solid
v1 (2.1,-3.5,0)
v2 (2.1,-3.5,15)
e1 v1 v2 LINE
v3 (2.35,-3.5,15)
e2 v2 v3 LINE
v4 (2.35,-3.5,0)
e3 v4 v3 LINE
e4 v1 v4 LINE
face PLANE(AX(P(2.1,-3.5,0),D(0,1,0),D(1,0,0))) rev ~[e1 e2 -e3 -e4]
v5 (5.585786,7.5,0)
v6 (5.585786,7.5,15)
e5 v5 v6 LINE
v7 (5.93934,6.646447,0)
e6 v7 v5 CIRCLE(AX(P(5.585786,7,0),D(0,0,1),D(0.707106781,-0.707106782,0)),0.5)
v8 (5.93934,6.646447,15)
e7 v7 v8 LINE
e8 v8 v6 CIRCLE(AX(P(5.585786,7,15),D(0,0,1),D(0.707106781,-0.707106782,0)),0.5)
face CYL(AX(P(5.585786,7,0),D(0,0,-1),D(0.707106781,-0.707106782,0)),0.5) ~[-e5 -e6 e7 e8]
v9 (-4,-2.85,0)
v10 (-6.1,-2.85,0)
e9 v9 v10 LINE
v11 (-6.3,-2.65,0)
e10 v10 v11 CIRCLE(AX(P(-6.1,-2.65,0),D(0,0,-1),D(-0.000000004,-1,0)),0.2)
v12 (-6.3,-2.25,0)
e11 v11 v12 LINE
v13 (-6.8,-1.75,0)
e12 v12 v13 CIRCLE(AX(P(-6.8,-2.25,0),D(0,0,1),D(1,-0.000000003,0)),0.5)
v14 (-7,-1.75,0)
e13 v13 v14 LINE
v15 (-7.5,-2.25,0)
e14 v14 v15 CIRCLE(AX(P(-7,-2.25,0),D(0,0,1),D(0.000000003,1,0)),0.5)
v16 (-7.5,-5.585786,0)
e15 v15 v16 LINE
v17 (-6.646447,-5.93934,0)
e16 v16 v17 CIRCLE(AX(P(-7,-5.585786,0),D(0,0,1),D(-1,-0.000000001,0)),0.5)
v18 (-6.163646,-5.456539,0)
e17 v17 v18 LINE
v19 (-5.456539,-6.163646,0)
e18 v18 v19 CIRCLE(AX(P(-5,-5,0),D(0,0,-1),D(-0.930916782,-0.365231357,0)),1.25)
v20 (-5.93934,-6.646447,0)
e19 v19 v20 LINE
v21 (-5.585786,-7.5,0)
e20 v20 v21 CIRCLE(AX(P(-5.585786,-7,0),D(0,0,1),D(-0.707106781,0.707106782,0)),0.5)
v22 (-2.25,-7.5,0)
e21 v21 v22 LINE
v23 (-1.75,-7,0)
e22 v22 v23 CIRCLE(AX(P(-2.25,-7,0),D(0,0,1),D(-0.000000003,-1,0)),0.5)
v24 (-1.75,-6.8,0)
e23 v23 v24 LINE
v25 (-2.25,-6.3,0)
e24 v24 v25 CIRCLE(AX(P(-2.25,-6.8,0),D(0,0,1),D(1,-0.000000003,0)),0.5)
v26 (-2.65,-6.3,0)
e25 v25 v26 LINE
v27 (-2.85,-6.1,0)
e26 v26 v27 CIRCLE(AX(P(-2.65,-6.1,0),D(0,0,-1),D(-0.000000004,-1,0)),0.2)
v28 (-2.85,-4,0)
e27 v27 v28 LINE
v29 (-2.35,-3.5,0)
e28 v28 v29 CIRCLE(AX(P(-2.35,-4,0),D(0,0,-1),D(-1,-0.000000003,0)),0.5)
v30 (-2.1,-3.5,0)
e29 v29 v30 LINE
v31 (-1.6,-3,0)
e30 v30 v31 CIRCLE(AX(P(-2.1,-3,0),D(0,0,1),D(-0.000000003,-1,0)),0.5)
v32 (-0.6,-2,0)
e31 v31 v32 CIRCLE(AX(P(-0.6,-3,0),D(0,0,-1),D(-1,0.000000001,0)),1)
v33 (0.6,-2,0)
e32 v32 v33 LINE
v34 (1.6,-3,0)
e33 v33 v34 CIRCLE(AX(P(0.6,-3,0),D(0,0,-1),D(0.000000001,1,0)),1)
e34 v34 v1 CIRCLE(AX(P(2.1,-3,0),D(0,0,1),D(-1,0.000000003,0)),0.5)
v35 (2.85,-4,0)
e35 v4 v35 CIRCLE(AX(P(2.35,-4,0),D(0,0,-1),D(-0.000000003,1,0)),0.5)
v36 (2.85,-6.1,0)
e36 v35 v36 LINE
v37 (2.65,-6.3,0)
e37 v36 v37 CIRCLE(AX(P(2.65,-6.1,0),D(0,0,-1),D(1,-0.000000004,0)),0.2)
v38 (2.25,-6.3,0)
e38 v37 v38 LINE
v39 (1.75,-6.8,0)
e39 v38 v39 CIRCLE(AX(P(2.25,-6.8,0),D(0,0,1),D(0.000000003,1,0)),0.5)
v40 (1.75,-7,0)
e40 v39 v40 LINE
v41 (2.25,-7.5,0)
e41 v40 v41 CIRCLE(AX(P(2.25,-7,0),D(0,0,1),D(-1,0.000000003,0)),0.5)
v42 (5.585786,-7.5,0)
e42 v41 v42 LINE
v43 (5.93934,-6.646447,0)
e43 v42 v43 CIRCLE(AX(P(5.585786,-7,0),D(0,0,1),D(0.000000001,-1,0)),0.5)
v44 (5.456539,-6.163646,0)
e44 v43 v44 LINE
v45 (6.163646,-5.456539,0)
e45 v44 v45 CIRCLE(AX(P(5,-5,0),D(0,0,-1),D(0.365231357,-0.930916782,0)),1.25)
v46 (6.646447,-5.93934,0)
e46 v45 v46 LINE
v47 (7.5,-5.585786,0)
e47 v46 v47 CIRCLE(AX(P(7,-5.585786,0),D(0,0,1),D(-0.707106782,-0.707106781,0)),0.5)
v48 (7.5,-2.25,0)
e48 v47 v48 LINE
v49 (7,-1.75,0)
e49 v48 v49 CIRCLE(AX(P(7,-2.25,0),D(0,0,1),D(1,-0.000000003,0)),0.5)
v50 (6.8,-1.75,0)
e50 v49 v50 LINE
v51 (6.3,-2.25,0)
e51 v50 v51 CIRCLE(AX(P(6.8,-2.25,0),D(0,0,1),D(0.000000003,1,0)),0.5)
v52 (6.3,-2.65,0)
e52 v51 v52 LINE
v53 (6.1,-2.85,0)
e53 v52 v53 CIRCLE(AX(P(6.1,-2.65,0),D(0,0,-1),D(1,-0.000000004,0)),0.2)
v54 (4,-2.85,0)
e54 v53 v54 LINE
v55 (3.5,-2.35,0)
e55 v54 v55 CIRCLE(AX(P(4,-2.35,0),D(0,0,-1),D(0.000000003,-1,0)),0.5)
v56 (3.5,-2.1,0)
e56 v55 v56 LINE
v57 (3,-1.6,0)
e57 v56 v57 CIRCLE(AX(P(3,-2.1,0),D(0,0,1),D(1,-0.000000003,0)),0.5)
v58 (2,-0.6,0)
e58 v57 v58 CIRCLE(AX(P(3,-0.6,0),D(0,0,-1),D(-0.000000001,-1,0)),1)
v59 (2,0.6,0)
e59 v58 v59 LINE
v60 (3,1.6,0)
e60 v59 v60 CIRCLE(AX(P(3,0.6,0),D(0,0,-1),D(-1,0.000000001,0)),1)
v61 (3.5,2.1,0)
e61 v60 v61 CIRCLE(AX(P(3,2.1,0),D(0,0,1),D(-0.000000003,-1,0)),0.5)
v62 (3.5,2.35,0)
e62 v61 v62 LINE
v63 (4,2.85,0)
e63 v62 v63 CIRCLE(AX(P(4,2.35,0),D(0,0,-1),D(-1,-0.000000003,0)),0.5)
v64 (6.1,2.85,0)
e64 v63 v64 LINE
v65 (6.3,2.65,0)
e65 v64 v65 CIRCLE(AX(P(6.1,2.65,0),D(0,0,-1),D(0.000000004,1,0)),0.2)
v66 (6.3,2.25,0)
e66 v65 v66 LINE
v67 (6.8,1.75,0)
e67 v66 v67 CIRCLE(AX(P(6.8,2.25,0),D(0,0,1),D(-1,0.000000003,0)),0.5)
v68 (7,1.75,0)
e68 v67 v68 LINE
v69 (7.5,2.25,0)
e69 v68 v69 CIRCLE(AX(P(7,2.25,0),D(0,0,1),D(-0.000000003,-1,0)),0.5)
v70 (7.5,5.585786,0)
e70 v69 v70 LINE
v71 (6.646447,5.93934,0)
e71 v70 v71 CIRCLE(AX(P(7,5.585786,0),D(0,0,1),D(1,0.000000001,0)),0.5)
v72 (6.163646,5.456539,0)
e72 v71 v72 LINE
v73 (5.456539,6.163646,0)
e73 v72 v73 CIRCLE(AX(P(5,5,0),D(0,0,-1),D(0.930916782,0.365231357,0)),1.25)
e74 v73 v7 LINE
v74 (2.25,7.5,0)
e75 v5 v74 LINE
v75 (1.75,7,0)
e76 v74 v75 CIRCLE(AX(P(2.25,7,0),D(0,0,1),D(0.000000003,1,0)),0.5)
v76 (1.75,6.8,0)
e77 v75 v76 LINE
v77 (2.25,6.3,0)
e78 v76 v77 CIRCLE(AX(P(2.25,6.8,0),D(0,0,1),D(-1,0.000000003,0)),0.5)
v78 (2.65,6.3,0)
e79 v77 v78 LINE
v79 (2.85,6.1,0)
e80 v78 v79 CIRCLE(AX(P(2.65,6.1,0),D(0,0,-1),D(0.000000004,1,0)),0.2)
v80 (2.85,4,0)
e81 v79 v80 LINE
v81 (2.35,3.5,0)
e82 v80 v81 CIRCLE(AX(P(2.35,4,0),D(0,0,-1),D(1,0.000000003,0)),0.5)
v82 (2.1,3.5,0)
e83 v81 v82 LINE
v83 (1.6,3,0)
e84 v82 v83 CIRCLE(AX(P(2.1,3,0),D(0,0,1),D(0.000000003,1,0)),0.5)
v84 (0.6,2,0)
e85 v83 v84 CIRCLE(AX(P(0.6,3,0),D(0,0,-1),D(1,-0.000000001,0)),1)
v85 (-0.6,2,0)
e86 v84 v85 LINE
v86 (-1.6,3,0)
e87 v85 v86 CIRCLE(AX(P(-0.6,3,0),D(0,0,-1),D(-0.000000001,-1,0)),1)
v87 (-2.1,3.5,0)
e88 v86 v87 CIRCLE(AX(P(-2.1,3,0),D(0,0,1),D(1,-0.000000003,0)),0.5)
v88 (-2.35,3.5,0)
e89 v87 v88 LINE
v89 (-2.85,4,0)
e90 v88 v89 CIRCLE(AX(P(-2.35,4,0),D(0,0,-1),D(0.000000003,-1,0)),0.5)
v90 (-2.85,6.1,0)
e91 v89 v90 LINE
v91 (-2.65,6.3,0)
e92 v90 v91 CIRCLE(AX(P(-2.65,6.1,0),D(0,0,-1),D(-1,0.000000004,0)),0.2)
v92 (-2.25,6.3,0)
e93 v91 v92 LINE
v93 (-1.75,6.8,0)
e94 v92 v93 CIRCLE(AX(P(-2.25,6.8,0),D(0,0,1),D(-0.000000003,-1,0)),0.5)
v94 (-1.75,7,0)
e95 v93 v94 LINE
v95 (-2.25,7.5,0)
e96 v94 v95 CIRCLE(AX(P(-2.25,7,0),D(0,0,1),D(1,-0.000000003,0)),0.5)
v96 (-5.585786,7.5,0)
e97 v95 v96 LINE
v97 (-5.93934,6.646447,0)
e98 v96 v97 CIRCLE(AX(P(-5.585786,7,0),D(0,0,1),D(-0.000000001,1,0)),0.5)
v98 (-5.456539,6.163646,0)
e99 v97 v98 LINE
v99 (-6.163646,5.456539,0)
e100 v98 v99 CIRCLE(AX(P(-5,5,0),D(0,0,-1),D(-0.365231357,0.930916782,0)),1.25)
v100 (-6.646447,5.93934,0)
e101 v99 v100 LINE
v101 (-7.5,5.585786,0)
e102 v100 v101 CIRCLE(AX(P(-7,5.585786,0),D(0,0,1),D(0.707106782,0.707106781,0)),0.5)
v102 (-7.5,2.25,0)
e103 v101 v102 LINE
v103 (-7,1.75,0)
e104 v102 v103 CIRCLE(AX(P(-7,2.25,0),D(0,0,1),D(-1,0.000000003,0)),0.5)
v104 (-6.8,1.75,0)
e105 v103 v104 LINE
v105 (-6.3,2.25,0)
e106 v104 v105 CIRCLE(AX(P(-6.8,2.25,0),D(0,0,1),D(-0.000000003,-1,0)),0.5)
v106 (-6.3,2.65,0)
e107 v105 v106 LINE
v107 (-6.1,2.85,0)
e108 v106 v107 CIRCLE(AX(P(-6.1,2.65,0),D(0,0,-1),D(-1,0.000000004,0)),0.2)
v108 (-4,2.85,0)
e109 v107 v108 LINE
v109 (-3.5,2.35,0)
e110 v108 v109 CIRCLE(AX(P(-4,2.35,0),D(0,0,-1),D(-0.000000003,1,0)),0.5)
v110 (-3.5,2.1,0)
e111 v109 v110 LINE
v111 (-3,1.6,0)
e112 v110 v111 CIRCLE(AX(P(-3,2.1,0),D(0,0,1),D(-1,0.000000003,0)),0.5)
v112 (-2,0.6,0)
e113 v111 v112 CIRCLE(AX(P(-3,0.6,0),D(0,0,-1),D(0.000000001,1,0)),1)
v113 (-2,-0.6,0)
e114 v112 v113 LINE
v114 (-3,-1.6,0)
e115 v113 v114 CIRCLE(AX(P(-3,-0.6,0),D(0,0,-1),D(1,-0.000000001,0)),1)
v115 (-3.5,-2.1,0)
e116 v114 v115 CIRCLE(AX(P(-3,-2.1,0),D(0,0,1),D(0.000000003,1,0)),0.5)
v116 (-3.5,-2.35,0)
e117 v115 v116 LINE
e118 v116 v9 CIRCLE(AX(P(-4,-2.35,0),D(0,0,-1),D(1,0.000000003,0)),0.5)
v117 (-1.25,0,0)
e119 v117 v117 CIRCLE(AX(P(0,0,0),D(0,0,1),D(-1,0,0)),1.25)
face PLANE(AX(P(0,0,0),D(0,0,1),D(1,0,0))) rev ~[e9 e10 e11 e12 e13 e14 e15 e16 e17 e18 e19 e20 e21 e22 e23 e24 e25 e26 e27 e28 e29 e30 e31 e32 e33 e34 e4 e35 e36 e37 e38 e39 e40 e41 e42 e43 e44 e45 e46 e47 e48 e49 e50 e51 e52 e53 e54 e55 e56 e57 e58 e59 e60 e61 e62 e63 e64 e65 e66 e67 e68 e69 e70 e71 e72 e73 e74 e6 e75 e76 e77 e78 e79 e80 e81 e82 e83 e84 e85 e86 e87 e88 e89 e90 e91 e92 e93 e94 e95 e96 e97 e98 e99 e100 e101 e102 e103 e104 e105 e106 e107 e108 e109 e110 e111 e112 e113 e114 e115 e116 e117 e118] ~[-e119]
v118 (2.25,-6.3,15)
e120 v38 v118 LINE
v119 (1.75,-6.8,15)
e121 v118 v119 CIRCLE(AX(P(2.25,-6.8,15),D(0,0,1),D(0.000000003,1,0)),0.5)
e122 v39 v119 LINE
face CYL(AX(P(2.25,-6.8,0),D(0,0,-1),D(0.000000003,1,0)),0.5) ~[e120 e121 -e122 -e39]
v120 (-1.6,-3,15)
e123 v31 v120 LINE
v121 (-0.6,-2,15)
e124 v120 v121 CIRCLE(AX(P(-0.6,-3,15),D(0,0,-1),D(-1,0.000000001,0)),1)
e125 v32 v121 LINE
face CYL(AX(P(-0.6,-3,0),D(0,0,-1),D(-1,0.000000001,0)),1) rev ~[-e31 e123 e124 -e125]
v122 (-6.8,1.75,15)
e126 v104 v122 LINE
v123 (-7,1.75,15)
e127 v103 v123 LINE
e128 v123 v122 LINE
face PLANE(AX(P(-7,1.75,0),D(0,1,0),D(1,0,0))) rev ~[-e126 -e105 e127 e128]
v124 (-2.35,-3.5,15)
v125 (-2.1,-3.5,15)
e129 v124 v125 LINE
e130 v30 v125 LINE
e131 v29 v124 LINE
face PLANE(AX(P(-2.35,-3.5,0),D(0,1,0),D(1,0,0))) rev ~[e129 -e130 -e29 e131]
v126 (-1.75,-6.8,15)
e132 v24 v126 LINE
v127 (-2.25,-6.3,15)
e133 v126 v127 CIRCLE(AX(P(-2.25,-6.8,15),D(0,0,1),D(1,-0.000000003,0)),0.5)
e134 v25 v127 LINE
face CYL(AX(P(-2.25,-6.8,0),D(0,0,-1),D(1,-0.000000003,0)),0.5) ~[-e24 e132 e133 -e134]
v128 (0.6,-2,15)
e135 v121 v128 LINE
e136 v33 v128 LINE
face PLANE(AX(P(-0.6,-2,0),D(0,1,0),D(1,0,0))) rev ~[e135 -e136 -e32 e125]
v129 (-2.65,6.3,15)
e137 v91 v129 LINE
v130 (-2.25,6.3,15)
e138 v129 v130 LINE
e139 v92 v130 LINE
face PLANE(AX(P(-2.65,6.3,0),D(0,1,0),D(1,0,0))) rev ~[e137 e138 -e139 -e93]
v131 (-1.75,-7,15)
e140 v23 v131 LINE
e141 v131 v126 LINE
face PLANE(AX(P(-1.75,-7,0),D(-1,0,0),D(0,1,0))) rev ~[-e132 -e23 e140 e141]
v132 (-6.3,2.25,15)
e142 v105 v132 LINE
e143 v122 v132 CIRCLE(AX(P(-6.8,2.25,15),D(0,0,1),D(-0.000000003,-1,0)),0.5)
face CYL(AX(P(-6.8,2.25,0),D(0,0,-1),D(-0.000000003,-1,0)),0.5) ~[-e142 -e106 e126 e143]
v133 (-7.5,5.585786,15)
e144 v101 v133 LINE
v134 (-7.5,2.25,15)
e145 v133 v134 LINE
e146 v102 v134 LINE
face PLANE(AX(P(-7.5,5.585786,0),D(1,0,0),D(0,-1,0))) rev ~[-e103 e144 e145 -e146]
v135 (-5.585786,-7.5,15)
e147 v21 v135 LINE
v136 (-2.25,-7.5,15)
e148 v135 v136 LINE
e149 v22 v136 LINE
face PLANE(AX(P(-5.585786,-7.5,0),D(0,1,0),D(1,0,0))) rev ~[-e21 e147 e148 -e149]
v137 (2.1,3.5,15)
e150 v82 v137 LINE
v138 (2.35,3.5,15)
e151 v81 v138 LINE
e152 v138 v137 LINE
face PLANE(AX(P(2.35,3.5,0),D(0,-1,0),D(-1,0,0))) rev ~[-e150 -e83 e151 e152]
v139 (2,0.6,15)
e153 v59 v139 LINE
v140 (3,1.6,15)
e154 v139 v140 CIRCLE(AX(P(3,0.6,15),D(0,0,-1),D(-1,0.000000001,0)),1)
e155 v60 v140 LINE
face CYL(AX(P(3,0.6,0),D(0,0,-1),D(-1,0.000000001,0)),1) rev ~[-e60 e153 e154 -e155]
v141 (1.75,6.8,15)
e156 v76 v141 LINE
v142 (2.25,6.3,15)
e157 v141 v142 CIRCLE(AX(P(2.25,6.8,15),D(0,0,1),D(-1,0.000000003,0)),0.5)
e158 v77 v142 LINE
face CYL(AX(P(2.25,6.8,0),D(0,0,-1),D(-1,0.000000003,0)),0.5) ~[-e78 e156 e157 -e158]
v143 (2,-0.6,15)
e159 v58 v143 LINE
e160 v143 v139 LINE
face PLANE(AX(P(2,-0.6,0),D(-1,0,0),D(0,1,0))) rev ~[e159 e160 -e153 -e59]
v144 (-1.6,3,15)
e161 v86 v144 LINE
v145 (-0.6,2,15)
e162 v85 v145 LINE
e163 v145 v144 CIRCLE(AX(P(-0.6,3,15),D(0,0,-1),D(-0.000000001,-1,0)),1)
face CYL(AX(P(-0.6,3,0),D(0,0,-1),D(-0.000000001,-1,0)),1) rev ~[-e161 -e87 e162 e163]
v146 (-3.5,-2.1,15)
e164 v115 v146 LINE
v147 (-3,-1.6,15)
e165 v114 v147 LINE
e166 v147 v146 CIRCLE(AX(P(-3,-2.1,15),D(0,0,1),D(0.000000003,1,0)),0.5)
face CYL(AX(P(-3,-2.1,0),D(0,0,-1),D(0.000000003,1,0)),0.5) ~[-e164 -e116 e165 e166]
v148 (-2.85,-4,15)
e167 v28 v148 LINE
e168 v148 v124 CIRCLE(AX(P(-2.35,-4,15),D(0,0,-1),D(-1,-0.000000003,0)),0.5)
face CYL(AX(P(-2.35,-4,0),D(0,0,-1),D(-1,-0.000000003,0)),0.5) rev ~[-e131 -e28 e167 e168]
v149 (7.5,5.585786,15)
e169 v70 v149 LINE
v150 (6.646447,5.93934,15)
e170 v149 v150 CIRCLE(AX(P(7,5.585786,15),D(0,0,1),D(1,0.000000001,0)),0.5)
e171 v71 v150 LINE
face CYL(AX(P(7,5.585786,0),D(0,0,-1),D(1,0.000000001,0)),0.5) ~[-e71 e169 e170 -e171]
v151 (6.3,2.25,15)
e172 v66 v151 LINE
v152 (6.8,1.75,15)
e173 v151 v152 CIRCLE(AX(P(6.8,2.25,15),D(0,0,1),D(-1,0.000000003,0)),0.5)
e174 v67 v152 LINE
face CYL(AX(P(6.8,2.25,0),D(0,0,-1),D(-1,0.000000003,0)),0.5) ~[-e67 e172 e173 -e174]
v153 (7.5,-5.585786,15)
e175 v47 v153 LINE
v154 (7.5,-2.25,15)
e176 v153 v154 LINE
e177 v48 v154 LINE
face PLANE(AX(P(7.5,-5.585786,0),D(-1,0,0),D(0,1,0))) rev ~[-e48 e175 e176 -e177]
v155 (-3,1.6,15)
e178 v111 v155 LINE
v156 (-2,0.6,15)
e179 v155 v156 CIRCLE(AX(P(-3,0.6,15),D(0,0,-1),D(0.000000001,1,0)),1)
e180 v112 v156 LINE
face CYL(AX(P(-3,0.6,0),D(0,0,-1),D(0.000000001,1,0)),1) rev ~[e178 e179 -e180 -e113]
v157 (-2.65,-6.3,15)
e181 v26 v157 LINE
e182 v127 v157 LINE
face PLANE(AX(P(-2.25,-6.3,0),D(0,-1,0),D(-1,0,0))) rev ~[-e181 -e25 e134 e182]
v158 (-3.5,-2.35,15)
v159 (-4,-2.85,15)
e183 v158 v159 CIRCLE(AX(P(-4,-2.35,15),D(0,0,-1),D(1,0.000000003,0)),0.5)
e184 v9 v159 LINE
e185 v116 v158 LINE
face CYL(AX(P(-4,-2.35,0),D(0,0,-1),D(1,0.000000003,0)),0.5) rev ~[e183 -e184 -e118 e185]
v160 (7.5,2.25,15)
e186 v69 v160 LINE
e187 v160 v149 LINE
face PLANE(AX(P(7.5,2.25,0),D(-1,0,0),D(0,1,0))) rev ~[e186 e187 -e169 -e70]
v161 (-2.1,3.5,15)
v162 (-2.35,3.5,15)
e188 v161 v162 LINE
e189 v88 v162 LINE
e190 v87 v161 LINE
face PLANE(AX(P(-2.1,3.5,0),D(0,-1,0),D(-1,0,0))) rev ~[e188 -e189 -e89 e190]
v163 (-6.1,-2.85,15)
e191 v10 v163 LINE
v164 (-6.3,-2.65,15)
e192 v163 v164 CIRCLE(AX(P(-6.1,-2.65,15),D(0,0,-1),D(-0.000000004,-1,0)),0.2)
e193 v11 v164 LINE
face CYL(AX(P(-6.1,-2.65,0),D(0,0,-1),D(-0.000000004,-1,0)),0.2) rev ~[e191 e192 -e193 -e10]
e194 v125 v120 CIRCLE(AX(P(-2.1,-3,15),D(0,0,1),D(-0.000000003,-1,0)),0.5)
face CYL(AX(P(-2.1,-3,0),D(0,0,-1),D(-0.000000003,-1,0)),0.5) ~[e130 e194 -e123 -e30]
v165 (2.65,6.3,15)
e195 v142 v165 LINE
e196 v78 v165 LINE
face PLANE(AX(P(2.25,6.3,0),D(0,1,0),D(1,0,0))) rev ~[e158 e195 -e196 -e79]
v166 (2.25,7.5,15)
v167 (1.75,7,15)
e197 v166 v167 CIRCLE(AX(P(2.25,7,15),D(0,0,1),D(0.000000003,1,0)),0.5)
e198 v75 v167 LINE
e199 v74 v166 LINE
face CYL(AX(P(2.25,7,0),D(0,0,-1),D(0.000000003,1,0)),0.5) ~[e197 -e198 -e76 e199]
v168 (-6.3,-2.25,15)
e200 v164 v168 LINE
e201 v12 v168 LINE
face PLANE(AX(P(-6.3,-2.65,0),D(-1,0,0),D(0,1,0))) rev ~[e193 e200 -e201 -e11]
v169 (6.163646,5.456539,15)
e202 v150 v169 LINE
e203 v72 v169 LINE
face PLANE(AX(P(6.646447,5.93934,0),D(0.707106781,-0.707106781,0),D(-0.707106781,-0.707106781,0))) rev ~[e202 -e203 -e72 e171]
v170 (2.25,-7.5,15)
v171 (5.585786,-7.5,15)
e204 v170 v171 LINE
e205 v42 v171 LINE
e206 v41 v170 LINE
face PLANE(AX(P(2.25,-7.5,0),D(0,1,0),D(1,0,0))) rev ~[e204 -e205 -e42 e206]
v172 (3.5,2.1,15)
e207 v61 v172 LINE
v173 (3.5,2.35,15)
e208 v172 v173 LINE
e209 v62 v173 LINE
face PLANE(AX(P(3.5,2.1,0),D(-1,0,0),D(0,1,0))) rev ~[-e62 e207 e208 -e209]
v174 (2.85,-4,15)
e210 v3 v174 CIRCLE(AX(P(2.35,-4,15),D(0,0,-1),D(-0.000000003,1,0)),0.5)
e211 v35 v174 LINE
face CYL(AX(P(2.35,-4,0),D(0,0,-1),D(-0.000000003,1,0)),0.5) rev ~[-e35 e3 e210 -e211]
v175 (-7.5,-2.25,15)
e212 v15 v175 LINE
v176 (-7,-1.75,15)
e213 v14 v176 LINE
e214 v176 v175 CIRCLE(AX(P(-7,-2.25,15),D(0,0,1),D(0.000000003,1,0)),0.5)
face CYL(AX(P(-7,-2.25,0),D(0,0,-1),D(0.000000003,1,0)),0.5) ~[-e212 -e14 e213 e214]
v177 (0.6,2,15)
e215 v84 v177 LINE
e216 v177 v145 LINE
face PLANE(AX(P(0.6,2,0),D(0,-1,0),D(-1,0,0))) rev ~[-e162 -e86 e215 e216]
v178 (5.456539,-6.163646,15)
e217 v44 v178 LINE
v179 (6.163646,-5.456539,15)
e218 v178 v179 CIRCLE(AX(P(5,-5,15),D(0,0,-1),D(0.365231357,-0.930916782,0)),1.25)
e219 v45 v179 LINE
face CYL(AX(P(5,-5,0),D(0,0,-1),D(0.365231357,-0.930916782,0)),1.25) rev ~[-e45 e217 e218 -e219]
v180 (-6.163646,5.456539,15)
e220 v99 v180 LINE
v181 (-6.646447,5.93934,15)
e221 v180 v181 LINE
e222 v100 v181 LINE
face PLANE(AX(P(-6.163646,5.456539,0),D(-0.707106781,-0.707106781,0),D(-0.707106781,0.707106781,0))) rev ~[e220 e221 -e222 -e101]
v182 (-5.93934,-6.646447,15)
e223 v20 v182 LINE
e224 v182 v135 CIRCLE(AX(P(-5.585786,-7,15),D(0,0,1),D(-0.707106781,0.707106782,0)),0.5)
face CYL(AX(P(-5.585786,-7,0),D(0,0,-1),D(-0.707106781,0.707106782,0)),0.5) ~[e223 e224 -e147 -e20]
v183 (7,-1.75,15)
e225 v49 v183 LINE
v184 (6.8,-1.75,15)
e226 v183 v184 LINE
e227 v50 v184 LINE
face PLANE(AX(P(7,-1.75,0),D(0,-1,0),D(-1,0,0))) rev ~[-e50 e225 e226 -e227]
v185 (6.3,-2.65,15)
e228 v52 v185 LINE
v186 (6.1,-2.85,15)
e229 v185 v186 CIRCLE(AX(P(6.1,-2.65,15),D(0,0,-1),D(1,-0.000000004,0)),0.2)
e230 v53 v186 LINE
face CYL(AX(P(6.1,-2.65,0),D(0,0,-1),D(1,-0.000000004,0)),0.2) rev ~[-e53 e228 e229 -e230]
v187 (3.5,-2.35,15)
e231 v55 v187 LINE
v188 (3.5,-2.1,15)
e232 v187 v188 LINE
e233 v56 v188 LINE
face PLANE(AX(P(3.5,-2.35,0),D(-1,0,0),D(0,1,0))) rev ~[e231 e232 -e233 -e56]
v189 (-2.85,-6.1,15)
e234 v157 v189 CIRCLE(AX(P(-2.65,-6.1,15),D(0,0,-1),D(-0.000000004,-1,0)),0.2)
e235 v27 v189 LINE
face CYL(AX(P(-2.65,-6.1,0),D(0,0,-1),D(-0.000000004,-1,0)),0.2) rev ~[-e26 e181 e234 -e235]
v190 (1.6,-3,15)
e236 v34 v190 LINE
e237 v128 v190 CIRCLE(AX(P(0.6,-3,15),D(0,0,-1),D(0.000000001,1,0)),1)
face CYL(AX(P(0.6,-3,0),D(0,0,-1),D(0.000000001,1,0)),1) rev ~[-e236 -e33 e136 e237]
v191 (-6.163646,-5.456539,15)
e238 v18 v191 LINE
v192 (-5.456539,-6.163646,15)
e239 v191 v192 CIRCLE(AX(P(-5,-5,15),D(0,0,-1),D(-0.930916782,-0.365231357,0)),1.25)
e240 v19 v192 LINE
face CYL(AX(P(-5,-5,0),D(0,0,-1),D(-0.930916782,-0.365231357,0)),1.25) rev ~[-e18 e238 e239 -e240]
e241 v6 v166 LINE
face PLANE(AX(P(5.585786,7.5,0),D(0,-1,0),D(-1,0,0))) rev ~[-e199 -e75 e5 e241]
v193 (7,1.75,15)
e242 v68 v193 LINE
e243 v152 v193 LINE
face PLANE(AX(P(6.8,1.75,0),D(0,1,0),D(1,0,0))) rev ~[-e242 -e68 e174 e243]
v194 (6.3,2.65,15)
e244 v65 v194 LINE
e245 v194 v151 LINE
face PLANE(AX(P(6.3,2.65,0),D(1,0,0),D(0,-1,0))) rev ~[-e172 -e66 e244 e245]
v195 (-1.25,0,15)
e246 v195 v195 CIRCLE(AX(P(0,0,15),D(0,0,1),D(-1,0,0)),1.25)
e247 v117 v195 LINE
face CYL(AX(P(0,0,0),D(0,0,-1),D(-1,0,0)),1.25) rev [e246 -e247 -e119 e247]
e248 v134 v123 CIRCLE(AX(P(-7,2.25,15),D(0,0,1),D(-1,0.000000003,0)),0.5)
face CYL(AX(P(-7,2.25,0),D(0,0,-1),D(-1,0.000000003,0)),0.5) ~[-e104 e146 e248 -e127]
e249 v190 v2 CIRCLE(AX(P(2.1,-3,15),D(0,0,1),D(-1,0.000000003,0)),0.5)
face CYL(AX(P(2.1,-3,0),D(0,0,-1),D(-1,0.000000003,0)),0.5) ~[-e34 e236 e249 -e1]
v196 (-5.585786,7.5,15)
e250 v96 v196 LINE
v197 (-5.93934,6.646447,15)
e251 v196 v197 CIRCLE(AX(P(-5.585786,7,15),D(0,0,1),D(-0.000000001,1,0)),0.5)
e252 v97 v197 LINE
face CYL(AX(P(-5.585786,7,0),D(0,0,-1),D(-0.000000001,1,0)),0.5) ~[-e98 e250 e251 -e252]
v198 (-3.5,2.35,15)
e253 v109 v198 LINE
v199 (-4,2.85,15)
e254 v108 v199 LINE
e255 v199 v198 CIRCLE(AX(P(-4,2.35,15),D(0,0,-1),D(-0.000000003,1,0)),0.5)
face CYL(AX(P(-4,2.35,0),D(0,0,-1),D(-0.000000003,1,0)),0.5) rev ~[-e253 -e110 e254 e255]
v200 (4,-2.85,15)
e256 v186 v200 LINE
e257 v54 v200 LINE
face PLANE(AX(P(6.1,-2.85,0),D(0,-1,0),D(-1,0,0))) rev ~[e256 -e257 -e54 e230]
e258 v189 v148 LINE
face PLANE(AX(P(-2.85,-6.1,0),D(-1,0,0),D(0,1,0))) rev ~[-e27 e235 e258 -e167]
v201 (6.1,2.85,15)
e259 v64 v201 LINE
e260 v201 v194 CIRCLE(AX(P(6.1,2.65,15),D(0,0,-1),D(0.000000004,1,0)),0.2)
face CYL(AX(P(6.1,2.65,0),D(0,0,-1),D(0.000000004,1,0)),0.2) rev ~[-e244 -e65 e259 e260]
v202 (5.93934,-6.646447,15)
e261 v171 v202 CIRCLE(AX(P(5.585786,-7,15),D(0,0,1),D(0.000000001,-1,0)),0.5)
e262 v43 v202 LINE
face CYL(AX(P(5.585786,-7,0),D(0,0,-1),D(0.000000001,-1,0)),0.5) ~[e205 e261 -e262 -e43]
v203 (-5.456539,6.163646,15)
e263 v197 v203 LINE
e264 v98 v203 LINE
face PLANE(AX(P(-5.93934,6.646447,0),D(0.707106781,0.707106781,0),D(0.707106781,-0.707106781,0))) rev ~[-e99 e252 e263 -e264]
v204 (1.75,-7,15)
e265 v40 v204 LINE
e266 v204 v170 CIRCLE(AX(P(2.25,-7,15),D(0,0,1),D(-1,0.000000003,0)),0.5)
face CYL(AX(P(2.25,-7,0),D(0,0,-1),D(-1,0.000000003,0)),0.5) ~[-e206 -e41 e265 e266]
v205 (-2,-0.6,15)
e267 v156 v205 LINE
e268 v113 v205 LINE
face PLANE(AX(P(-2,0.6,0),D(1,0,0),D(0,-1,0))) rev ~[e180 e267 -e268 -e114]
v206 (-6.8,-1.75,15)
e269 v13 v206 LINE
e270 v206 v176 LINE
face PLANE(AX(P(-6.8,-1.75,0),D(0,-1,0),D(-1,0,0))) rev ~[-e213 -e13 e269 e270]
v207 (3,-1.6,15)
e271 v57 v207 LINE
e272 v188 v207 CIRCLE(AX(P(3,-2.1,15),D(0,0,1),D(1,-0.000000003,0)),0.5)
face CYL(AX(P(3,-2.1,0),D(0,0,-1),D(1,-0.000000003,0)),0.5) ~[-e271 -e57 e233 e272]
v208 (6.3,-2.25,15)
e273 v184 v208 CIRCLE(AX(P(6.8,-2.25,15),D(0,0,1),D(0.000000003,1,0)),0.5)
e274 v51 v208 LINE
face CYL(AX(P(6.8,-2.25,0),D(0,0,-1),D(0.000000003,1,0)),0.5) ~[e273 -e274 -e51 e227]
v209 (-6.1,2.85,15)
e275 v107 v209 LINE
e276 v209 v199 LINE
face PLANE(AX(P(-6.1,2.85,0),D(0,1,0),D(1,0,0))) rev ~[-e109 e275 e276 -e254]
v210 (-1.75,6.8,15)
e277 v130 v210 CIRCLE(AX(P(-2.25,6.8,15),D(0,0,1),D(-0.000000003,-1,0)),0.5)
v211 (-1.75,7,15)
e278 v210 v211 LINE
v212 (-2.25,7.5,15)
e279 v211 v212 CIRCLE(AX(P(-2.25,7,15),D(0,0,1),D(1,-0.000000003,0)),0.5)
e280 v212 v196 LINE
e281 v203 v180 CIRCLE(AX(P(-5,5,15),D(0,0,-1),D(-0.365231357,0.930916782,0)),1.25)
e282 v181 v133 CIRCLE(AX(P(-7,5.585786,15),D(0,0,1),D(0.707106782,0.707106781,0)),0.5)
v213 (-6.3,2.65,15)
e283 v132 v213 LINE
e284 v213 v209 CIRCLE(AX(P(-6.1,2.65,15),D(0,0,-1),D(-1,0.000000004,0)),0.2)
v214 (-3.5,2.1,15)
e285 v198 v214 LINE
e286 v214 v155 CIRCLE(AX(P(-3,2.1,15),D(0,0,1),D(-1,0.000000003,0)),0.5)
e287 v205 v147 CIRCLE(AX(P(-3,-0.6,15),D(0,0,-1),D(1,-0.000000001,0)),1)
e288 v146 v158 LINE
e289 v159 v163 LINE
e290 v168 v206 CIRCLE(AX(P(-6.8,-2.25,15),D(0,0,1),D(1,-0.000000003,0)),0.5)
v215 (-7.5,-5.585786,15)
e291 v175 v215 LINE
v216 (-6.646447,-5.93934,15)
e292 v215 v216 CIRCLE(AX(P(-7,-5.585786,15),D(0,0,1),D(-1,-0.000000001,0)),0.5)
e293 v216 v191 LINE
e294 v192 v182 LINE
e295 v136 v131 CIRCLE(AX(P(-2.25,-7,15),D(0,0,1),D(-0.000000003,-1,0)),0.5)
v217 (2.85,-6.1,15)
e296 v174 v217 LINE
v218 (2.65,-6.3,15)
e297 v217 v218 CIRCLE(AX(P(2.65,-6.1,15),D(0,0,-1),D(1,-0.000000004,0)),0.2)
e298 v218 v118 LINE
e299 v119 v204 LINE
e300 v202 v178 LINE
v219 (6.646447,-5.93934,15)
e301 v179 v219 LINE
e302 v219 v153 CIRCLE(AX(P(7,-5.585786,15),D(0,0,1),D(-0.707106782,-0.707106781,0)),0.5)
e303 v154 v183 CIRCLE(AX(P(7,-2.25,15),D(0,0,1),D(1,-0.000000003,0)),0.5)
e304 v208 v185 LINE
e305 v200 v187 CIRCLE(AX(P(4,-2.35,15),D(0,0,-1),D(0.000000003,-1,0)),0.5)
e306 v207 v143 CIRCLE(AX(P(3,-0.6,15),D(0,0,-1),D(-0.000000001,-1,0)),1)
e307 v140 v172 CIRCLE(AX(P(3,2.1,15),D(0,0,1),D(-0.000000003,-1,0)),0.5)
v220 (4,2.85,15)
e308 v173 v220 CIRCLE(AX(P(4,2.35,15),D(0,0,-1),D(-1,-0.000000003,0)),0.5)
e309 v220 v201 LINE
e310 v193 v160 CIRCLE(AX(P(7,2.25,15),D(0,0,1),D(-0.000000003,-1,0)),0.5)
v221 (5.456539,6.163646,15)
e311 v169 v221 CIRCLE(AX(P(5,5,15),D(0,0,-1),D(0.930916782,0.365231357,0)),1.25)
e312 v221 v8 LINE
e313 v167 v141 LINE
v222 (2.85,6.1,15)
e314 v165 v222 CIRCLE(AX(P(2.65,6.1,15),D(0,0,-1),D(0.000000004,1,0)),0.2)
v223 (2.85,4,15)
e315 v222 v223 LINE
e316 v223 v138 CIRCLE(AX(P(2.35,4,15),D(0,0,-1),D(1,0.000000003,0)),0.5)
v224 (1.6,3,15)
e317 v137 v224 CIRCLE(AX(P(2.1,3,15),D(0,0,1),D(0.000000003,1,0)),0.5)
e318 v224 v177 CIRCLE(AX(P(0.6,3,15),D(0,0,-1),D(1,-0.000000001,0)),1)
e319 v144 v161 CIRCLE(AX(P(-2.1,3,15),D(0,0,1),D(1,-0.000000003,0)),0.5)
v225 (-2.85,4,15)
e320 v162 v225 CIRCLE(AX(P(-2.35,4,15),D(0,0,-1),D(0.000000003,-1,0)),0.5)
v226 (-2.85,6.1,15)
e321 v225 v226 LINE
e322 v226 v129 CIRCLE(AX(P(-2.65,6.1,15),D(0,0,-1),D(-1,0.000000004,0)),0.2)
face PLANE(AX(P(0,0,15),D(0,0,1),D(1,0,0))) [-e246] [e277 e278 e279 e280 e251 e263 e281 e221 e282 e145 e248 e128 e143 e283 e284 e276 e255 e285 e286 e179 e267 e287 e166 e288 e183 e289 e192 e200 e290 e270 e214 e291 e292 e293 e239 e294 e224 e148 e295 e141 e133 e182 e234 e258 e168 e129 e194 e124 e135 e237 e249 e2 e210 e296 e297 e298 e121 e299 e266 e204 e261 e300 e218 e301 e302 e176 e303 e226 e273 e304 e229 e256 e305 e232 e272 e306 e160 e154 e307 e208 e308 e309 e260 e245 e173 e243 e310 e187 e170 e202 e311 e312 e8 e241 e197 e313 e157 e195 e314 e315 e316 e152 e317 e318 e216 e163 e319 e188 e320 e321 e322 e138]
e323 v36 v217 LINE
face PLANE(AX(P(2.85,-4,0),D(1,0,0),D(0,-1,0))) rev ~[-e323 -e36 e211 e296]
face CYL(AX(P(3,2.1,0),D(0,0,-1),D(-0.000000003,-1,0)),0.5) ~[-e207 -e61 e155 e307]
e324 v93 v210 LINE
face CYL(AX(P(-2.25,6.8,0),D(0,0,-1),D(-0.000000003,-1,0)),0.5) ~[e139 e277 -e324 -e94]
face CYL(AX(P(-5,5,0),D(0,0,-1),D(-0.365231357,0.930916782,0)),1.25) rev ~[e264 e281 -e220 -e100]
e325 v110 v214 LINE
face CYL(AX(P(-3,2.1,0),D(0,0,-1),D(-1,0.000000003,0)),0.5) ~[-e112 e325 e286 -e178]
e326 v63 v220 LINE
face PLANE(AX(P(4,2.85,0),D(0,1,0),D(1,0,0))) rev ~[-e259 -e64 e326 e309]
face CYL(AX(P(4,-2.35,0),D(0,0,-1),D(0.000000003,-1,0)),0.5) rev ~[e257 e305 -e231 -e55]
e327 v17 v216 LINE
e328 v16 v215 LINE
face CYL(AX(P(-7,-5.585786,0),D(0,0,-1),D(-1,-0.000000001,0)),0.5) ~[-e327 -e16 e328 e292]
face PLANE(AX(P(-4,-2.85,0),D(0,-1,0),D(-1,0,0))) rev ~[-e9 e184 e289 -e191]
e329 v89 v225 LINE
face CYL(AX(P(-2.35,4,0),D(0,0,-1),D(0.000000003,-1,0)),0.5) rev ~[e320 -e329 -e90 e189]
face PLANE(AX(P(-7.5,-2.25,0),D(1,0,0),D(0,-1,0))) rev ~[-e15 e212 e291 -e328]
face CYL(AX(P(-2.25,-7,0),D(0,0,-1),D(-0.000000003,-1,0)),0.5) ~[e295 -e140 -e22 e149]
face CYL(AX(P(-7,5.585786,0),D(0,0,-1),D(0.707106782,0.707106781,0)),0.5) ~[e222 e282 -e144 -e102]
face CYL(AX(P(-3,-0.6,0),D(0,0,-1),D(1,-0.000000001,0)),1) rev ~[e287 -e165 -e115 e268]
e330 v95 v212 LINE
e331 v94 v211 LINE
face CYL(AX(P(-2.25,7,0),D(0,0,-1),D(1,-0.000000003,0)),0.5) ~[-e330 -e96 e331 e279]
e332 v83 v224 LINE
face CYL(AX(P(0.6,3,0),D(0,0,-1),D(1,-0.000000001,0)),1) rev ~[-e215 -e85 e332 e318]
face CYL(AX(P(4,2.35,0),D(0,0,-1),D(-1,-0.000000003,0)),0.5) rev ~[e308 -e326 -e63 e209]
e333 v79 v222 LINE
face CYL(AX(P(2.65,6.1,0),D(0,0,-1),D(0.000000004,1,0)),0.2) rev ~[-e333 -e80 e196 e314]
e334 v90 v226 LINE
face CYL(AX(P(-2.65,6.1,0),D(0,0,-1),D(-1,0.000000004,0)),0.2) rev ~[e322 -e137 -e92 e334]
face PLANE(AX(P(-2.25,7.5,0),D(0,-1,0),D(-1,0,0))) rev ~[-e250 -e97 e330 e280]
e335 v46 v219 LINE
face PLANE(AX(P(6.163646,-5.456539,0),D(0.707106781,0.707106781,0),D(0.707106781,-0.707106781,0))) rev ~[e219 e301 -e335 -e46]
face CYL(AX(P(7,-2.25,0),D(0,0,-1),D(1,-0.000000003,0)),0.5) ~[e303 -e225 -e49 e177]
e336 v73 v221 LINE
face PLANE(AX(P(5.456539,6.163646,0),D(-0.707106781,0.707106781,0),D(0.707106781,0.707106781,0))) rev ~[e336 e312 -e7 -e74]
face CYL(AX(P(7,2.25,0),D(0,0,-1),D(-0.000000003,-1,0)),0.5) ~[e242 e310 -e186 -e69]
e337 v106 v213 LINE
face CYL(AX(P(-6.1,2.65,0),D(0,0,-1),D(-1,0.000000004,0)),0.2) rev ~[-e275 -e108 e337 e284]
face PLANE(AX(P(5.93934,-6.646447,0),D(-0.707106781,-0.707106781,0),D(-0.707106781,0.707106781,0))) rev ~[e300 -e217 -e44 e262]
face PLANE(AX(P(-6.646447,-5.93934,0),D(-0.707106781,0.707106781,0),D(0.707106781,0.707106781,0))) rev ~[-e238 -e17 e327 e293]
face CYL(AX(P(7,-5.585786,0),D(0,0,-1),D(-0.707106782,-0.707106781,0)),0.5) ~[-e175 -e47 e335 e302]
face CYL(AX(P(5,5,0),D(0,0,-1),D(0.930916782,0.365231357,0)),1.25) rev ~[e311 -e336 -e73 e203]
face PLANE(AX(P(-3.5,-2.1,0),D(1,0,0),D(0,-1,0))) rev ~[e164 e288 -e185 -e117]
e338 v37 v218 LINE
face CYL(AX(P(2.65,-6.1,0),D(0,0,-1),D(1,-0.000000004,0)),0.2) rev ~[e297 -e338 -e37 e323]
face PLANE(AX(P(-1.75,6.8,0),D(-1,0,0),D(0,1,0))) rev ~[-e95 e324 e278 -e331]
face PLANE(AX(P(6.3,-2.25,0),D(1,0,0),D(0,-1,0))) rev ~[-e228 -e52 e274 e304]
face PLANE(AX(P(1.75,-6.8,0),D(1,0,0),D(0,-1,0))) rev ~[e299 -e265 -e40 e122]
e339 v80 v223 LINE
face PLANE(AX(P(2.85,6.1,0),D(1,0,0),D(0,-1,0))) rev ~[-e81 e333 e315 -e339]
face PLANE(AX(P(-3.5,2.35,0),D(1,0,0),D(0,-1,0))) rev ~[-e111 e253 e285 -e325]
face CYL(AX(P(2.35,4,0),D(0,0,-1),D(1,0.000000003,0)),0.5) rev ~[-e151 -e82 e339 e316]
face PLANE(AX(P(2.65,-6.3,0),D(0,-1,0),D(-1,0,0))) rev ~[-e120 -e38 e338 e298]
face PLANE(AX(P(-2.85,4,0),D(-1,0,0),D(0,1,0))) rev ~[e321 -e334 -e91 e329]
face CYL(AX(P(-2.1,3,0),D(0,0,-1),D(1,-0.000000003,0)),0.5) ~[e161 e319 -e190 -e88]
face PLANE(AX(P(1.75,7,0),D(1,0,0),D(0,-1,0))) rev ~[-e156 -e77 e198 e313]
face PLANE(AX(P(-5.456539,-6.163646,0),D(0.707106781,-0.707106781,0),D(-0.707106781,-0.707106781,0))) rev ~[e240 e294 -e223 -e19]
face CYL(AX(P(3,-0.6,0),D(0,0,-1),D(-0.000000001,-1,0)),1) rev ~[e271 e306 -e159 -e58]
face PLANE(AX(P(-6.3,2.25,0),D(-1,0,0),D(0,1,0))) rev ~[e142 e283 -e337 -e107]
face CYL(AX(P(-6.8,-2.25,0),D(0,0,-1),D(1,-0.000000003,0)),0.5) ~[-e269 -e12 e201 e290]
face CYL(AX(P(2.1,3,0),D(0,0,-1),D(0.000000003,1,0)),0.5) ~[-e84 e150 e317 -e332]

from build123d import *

# Parameters (mm, degrees)
SKETCH1_R           = 1.25
BOSS_EXTRUDE1_DEPTH = 15


with BuildPart() as part:
    # Sketch1 → Boss-Extrude1 (new body)
    with BuildSketch(Plane.XY):
        with BuildLine():
            Line((6.646446609, 5.939339828), (6.163645978, 5.456539197))
            ThreePointArc((6.163645978, 5.456539197), (4.116116524, 4.116116524), (5.456539197, 6.163645978))
            Line((5.456539197, 6.163645978), (5.939339828, 6.646446609))
            ThreePointArc((5.939339828, 6.646446609), (6.047726204, 7.191341716), (5.585786438, 7.5))
            Line((5.585786438, 7.5), (2.25, 7.5))
            ThreePointArc((2.25, 7.5), (1.896446609, 7.353553391), (1.75, 7))
            Line((1.75, 7), (1.75, 6.8))
            ThreePointArc((1.75, 6.8), (1.896446609, 6.446446609), (2.25, 6.3))
            Line((2.25, 6.3), (2.65, 6.3))
            ThreePointArc((2.65, 6.3), (2.791421356, 6.241421356), (2.85, 6.1))
            Line((2.85, 6.1), (2.85, 4))
            ThreePointArc((2.85, 4), (2.703553391, 3.646446609), (2.35, 3.5))
            Line((2.35, 3.5), (2.1, 3.5))
            ThreePointArc((2.1, 3.5), (1.746446609, 3.353553391), (1.6, 3))
            ThreePointArc((1.6, 3), (1.307106781, 2.292893219), (0.6, 2))
            Line((0.6, 2), (-0.6, 2))
            ThreePointArc((-0.6, 2), (-1.307106781, 2.292893219), (-1.6, 3))
            ThreePointArc((-1.6, 3), (-1.746446609, 3.353553391), (-2.1, 3.5))
            Line((-2.1, 3.5), (-2.35, 3.5))
            ThreePointArc((-2.35, 3.5), (-2.703553391, 3.646446609), (-2.85, 4))
            Line((-2.85, 4), (-2.85, 6.1))
            ThreePointArc((-2.85, 6.1), (-2.791421356, 6.241421356), (-2.65, 6.3))
            Line((-2.65, 6.3), (-2.25, 6.3))
            ThreePointArc((-2.25, 6.3), (-1.896446609, 6.446446609), (-1.75, 6.8))
            Line((-1.75, 6.8), (-1.75, 7))
            ThreePointArc((-1.75, 7), (-1.896446609, 7.353553391), (-2.25, 7.5))
            Line((-2.25, 7.5), (-5.585786438, 7.5))
            ThreePointArc((-5.585786438, 7.5), (-6.047726204, 7.191341716), (-5.939339828, 6.646446609))
            Line((-5.939339828, 6.646446609), (-5.456539197, 6.163645978))
            ThreePointArc((-5.456539197, 6.163645978), (-4.116116524, 4.116116524), (-6.163645978, 5.456539197))
            Line((-6.163645978, 5.456539197), (-6.646446609, 5.939339828))
            ThreePointArc((-6.646446609, 5.939339828), (-7.191341716, 6.047726204), (-7.5, 5.585786438))
            Line((-7.5, 5.585786438), (-7.5, 2.25))
            ThreePointArc((-7.5, 2.25), (-7.353553391, 1.896446609), (-7, 1.75))
            Line((-7, 1.75), (-6.8, 1.75))
            ThreePointArc((-6.8, 1.75), (-6.446446609, 1.896446609), (-6.3, 2.25))
            Line((-6.3, 2.25), (-6.3, 2.65))
            ThreePointArc((-6.3, 2.65), (-6.241421356, 2.791421356), (-6.1, 2.85))
            Line((-6.1, 2.85), (-4, 2.85))
            ThreePointArc((-4, 2.85), (-3.646446609, 2.703553391), (-3.5, 2.35))
            Line((-3.5, 2.35), (-3.5, 2.1))
            ThreePointArc((-3.5, 2.1), (-3.353553391, 1.746446609), (-3, 1.6))
            ThreePointArc((-3, 1.6), (-2.292893219, 1.307106781), (-2, 0.6))
            Line((-2, 0.6), (-2, -0.6))
            ThreePointArc((-2, -0.6), (-2.292893219, -1.307106781), (-3, -1.6))
            ThreePointArc((-3, -1.6), (-3.353553391, -1.746446609), (-3.5, -2.1))
            Line((-3.5, -2.1), (-3.5, -2.35))
            ThreePointArc((-3.5, -2.35), (-3.646446609, -2.703553391), (-4, -2.85))
            Line((-4, -2.85), (-6.1, -2.85))
            ThreePointArc((-6.1, -2.85), (-6.241421356, -2.791421356), (-6.3, -2.65))
            Line((-6.3, -2.65), (-6.3, -2.25))
            ThreePointArc((-6.3, -2.25), (-6.446446609, -1.896446609), (-6.8, -1.75))
            Line((-6.8, -1.75), (-7, -1.75))
            ThreePointArc((-7, -1.75), (-7.353553391, -1.896446609), (-7.5, -2.25))
            Line((-7.5, -2.25), (-7.5, -5.585786438))
            ThreePointArc((-7.5, -5.585786438), (-7.191341716, -6.047726204), (-6.646446609, -5.939339828))
            Line((-6.646446609, -5.939339828), (-6.163645978, -5.456539197))
            ThreePointArc((-6.163645978, -5.456539197), (-4.116116524, -4.116116524), (-5.456539197, -6.163645978))
            Line((-5.456539197, -6.163645978), (-5.939339828, -6.646446609))
            ThreePointArc((-5.939339828, -6.646446609), (-6.047726204, -7.191341716), (-5.585786438, -7.5))
            Line((-5.585786438, -7.5), (-2.25, -7.5))
            ThreePointArc((-2.25, -7.5), (-1.896446609, -7.353553391), (-1.75, -7))
            Line((-1.75, -7), (-1.75, -6.8))
            ThreePointArc((-1.75, -6.8), (-1.896446609, -6.446446609), (-2.25, -6.3))
            Line((-2.25, -6.3), (-2.65, -6.3))
            ThreePointArc((-2.65, -6.3), (-2.791421356, -6.241421356), (-2.85, -6.1))
            Line((-2.85, -6.1), (-2.85, -4))
            ThreePointArc((-2.85, -4), (-2.703553391, -3.646446609), (-2.35, -3.5))
            Line((-2.35, -3.5), (-2.1, -3.5))
            ThreePointArc((-2.1, -3.5), (-1.746446609, -3.353553391), (-1.6, -3))
            ThreePointArc((-1.6, -3), (-1.307106781, -2.292893219), (-0.6, -2))
            Line((-0.6, -2), (0.6, -2))
            ThreePointArc((0.6, -2), (1.307106781, -2.292893219), (1.6, -3))
            ThreePointArc((1.6, -3), (1.746446609, -3.353553391), (2.1, -3.5))
            Line((2.1, -3.5), (2.35, -3.5))
            ThreePointArc((2.35, -3.5), (2.703553391, -3.646446609), (2.85, -4))
            Line((2.85, -4), (2.85, -6.1))
            ThreePointArc((2.85, -6.1), (2.791421356, -6.241421356), (2.65, -6.3))
            Line((2.65, -6.3), (2.25, -6.3))
            ThreePointArc((2.25, -6.3), (1.896446609, -6.446446609), (1.75, -6.8))
            Line((1.75, -6.8), (1.75, -7))
            ThreePointArc((1.75, -7), (1.896446609, -7.353553391), (2.25, -7.5))
            Line((2.25, -7.5), (5.585786438, -7.5))
            ThreePointArc((5.585786438, -7.5), (6.047726204, -7.191341716), (5.939339828, -6.646446609))
            Line((5.939339828, -6.646446609), (5.456539197, -6.163645978))
            ThreePointArc((5.456539197, -6.163645978), (4.116116524, -4.116116524), (6.163645978, -5.456539197))
            Line((6.163645978, -5.456539197), (6.646446609, -5.939339828))
            ThreePointArc((6.646446609, -5.939339828), (7.191341716, -6.047726204), (7.5, -5.585786438))
            Line((7.5, -5.585786438), (7.5, -2.25))
            ThreePointArc((7.5, -2.25), (7.353553391, -1.896446609), (7, -1.75))
            Line((7, -1.75), (6.8, -1.75))
            ThreePointArc((6.8, -1.75), (6.446446609, -1.896446609), (6.3, -2.25))
            Line((6.3, -2.25), (6.3, -2.65))
            ThreePointArc((6.3, -2.65), (6.241421356, -2.791421356), (6.1, -2.85))
            Line((6.1, -2.85), (4, -2.85))
            ThreePointArc((4, -2.85), (3.646446609, -2.703553391), (3.5, -2.35))
            Line((3.5, -2.35), (3.5, -2.1))
            ThreePointArc((3.5, -2.1), (3.353553391, -1.746446609), (3, -1.6))
            ThreePointArc((3, -1.6), (2.292893219, -1.307106781), (2, -0.6))
            Line((2, -0.6), (2, 0.6))
            ThreePointArc((2, 0.6), (2.292893219, 1.307106781), (3, 1.6))
            ThreePointArc((3, 1.6), (3.353553391, 1.746446609), (3.5, 2.1))
            Line((3.5, 2.1), (3.5, 2.35))
            ThreePointArc((3.5, 2.35), (3.646446609, 2.703553391), (4, 2.85))
            Line((4, 2.85), (6.1, 2.85))
            ThreePointArc((6.1, 2.85), (6.241421356, 2.791421356), (6.3, 2.65))
            Line((6.3, 2.65), (6.3, 2.25))
            ThreePointArc((6.3, 2.25), (6.446446609, 1.896446609), (6.8, 1.75))
            Line((6.8, 1.75), (7, 1.75))
            ThreePointArc((7, 1.75), (7.353553391, 1.896446609), (7.5, 2.25))
            Line((7.5, 2.25), (7.5, 5.585786438))
            ThreePointArc((7.5, 5.585786438), (7.191341716, 6.047726204), (6.646446609, 5.939339828))
        make_face()
        with Locations(Location((0, 0, 0), (0, 0, 180))):
            Circle(SKETCH1_R, mode=Mode.SUBTRACT)
    extrude(amount=BOSS_EXTRUDE1_DEPTH)


solid = part.part
